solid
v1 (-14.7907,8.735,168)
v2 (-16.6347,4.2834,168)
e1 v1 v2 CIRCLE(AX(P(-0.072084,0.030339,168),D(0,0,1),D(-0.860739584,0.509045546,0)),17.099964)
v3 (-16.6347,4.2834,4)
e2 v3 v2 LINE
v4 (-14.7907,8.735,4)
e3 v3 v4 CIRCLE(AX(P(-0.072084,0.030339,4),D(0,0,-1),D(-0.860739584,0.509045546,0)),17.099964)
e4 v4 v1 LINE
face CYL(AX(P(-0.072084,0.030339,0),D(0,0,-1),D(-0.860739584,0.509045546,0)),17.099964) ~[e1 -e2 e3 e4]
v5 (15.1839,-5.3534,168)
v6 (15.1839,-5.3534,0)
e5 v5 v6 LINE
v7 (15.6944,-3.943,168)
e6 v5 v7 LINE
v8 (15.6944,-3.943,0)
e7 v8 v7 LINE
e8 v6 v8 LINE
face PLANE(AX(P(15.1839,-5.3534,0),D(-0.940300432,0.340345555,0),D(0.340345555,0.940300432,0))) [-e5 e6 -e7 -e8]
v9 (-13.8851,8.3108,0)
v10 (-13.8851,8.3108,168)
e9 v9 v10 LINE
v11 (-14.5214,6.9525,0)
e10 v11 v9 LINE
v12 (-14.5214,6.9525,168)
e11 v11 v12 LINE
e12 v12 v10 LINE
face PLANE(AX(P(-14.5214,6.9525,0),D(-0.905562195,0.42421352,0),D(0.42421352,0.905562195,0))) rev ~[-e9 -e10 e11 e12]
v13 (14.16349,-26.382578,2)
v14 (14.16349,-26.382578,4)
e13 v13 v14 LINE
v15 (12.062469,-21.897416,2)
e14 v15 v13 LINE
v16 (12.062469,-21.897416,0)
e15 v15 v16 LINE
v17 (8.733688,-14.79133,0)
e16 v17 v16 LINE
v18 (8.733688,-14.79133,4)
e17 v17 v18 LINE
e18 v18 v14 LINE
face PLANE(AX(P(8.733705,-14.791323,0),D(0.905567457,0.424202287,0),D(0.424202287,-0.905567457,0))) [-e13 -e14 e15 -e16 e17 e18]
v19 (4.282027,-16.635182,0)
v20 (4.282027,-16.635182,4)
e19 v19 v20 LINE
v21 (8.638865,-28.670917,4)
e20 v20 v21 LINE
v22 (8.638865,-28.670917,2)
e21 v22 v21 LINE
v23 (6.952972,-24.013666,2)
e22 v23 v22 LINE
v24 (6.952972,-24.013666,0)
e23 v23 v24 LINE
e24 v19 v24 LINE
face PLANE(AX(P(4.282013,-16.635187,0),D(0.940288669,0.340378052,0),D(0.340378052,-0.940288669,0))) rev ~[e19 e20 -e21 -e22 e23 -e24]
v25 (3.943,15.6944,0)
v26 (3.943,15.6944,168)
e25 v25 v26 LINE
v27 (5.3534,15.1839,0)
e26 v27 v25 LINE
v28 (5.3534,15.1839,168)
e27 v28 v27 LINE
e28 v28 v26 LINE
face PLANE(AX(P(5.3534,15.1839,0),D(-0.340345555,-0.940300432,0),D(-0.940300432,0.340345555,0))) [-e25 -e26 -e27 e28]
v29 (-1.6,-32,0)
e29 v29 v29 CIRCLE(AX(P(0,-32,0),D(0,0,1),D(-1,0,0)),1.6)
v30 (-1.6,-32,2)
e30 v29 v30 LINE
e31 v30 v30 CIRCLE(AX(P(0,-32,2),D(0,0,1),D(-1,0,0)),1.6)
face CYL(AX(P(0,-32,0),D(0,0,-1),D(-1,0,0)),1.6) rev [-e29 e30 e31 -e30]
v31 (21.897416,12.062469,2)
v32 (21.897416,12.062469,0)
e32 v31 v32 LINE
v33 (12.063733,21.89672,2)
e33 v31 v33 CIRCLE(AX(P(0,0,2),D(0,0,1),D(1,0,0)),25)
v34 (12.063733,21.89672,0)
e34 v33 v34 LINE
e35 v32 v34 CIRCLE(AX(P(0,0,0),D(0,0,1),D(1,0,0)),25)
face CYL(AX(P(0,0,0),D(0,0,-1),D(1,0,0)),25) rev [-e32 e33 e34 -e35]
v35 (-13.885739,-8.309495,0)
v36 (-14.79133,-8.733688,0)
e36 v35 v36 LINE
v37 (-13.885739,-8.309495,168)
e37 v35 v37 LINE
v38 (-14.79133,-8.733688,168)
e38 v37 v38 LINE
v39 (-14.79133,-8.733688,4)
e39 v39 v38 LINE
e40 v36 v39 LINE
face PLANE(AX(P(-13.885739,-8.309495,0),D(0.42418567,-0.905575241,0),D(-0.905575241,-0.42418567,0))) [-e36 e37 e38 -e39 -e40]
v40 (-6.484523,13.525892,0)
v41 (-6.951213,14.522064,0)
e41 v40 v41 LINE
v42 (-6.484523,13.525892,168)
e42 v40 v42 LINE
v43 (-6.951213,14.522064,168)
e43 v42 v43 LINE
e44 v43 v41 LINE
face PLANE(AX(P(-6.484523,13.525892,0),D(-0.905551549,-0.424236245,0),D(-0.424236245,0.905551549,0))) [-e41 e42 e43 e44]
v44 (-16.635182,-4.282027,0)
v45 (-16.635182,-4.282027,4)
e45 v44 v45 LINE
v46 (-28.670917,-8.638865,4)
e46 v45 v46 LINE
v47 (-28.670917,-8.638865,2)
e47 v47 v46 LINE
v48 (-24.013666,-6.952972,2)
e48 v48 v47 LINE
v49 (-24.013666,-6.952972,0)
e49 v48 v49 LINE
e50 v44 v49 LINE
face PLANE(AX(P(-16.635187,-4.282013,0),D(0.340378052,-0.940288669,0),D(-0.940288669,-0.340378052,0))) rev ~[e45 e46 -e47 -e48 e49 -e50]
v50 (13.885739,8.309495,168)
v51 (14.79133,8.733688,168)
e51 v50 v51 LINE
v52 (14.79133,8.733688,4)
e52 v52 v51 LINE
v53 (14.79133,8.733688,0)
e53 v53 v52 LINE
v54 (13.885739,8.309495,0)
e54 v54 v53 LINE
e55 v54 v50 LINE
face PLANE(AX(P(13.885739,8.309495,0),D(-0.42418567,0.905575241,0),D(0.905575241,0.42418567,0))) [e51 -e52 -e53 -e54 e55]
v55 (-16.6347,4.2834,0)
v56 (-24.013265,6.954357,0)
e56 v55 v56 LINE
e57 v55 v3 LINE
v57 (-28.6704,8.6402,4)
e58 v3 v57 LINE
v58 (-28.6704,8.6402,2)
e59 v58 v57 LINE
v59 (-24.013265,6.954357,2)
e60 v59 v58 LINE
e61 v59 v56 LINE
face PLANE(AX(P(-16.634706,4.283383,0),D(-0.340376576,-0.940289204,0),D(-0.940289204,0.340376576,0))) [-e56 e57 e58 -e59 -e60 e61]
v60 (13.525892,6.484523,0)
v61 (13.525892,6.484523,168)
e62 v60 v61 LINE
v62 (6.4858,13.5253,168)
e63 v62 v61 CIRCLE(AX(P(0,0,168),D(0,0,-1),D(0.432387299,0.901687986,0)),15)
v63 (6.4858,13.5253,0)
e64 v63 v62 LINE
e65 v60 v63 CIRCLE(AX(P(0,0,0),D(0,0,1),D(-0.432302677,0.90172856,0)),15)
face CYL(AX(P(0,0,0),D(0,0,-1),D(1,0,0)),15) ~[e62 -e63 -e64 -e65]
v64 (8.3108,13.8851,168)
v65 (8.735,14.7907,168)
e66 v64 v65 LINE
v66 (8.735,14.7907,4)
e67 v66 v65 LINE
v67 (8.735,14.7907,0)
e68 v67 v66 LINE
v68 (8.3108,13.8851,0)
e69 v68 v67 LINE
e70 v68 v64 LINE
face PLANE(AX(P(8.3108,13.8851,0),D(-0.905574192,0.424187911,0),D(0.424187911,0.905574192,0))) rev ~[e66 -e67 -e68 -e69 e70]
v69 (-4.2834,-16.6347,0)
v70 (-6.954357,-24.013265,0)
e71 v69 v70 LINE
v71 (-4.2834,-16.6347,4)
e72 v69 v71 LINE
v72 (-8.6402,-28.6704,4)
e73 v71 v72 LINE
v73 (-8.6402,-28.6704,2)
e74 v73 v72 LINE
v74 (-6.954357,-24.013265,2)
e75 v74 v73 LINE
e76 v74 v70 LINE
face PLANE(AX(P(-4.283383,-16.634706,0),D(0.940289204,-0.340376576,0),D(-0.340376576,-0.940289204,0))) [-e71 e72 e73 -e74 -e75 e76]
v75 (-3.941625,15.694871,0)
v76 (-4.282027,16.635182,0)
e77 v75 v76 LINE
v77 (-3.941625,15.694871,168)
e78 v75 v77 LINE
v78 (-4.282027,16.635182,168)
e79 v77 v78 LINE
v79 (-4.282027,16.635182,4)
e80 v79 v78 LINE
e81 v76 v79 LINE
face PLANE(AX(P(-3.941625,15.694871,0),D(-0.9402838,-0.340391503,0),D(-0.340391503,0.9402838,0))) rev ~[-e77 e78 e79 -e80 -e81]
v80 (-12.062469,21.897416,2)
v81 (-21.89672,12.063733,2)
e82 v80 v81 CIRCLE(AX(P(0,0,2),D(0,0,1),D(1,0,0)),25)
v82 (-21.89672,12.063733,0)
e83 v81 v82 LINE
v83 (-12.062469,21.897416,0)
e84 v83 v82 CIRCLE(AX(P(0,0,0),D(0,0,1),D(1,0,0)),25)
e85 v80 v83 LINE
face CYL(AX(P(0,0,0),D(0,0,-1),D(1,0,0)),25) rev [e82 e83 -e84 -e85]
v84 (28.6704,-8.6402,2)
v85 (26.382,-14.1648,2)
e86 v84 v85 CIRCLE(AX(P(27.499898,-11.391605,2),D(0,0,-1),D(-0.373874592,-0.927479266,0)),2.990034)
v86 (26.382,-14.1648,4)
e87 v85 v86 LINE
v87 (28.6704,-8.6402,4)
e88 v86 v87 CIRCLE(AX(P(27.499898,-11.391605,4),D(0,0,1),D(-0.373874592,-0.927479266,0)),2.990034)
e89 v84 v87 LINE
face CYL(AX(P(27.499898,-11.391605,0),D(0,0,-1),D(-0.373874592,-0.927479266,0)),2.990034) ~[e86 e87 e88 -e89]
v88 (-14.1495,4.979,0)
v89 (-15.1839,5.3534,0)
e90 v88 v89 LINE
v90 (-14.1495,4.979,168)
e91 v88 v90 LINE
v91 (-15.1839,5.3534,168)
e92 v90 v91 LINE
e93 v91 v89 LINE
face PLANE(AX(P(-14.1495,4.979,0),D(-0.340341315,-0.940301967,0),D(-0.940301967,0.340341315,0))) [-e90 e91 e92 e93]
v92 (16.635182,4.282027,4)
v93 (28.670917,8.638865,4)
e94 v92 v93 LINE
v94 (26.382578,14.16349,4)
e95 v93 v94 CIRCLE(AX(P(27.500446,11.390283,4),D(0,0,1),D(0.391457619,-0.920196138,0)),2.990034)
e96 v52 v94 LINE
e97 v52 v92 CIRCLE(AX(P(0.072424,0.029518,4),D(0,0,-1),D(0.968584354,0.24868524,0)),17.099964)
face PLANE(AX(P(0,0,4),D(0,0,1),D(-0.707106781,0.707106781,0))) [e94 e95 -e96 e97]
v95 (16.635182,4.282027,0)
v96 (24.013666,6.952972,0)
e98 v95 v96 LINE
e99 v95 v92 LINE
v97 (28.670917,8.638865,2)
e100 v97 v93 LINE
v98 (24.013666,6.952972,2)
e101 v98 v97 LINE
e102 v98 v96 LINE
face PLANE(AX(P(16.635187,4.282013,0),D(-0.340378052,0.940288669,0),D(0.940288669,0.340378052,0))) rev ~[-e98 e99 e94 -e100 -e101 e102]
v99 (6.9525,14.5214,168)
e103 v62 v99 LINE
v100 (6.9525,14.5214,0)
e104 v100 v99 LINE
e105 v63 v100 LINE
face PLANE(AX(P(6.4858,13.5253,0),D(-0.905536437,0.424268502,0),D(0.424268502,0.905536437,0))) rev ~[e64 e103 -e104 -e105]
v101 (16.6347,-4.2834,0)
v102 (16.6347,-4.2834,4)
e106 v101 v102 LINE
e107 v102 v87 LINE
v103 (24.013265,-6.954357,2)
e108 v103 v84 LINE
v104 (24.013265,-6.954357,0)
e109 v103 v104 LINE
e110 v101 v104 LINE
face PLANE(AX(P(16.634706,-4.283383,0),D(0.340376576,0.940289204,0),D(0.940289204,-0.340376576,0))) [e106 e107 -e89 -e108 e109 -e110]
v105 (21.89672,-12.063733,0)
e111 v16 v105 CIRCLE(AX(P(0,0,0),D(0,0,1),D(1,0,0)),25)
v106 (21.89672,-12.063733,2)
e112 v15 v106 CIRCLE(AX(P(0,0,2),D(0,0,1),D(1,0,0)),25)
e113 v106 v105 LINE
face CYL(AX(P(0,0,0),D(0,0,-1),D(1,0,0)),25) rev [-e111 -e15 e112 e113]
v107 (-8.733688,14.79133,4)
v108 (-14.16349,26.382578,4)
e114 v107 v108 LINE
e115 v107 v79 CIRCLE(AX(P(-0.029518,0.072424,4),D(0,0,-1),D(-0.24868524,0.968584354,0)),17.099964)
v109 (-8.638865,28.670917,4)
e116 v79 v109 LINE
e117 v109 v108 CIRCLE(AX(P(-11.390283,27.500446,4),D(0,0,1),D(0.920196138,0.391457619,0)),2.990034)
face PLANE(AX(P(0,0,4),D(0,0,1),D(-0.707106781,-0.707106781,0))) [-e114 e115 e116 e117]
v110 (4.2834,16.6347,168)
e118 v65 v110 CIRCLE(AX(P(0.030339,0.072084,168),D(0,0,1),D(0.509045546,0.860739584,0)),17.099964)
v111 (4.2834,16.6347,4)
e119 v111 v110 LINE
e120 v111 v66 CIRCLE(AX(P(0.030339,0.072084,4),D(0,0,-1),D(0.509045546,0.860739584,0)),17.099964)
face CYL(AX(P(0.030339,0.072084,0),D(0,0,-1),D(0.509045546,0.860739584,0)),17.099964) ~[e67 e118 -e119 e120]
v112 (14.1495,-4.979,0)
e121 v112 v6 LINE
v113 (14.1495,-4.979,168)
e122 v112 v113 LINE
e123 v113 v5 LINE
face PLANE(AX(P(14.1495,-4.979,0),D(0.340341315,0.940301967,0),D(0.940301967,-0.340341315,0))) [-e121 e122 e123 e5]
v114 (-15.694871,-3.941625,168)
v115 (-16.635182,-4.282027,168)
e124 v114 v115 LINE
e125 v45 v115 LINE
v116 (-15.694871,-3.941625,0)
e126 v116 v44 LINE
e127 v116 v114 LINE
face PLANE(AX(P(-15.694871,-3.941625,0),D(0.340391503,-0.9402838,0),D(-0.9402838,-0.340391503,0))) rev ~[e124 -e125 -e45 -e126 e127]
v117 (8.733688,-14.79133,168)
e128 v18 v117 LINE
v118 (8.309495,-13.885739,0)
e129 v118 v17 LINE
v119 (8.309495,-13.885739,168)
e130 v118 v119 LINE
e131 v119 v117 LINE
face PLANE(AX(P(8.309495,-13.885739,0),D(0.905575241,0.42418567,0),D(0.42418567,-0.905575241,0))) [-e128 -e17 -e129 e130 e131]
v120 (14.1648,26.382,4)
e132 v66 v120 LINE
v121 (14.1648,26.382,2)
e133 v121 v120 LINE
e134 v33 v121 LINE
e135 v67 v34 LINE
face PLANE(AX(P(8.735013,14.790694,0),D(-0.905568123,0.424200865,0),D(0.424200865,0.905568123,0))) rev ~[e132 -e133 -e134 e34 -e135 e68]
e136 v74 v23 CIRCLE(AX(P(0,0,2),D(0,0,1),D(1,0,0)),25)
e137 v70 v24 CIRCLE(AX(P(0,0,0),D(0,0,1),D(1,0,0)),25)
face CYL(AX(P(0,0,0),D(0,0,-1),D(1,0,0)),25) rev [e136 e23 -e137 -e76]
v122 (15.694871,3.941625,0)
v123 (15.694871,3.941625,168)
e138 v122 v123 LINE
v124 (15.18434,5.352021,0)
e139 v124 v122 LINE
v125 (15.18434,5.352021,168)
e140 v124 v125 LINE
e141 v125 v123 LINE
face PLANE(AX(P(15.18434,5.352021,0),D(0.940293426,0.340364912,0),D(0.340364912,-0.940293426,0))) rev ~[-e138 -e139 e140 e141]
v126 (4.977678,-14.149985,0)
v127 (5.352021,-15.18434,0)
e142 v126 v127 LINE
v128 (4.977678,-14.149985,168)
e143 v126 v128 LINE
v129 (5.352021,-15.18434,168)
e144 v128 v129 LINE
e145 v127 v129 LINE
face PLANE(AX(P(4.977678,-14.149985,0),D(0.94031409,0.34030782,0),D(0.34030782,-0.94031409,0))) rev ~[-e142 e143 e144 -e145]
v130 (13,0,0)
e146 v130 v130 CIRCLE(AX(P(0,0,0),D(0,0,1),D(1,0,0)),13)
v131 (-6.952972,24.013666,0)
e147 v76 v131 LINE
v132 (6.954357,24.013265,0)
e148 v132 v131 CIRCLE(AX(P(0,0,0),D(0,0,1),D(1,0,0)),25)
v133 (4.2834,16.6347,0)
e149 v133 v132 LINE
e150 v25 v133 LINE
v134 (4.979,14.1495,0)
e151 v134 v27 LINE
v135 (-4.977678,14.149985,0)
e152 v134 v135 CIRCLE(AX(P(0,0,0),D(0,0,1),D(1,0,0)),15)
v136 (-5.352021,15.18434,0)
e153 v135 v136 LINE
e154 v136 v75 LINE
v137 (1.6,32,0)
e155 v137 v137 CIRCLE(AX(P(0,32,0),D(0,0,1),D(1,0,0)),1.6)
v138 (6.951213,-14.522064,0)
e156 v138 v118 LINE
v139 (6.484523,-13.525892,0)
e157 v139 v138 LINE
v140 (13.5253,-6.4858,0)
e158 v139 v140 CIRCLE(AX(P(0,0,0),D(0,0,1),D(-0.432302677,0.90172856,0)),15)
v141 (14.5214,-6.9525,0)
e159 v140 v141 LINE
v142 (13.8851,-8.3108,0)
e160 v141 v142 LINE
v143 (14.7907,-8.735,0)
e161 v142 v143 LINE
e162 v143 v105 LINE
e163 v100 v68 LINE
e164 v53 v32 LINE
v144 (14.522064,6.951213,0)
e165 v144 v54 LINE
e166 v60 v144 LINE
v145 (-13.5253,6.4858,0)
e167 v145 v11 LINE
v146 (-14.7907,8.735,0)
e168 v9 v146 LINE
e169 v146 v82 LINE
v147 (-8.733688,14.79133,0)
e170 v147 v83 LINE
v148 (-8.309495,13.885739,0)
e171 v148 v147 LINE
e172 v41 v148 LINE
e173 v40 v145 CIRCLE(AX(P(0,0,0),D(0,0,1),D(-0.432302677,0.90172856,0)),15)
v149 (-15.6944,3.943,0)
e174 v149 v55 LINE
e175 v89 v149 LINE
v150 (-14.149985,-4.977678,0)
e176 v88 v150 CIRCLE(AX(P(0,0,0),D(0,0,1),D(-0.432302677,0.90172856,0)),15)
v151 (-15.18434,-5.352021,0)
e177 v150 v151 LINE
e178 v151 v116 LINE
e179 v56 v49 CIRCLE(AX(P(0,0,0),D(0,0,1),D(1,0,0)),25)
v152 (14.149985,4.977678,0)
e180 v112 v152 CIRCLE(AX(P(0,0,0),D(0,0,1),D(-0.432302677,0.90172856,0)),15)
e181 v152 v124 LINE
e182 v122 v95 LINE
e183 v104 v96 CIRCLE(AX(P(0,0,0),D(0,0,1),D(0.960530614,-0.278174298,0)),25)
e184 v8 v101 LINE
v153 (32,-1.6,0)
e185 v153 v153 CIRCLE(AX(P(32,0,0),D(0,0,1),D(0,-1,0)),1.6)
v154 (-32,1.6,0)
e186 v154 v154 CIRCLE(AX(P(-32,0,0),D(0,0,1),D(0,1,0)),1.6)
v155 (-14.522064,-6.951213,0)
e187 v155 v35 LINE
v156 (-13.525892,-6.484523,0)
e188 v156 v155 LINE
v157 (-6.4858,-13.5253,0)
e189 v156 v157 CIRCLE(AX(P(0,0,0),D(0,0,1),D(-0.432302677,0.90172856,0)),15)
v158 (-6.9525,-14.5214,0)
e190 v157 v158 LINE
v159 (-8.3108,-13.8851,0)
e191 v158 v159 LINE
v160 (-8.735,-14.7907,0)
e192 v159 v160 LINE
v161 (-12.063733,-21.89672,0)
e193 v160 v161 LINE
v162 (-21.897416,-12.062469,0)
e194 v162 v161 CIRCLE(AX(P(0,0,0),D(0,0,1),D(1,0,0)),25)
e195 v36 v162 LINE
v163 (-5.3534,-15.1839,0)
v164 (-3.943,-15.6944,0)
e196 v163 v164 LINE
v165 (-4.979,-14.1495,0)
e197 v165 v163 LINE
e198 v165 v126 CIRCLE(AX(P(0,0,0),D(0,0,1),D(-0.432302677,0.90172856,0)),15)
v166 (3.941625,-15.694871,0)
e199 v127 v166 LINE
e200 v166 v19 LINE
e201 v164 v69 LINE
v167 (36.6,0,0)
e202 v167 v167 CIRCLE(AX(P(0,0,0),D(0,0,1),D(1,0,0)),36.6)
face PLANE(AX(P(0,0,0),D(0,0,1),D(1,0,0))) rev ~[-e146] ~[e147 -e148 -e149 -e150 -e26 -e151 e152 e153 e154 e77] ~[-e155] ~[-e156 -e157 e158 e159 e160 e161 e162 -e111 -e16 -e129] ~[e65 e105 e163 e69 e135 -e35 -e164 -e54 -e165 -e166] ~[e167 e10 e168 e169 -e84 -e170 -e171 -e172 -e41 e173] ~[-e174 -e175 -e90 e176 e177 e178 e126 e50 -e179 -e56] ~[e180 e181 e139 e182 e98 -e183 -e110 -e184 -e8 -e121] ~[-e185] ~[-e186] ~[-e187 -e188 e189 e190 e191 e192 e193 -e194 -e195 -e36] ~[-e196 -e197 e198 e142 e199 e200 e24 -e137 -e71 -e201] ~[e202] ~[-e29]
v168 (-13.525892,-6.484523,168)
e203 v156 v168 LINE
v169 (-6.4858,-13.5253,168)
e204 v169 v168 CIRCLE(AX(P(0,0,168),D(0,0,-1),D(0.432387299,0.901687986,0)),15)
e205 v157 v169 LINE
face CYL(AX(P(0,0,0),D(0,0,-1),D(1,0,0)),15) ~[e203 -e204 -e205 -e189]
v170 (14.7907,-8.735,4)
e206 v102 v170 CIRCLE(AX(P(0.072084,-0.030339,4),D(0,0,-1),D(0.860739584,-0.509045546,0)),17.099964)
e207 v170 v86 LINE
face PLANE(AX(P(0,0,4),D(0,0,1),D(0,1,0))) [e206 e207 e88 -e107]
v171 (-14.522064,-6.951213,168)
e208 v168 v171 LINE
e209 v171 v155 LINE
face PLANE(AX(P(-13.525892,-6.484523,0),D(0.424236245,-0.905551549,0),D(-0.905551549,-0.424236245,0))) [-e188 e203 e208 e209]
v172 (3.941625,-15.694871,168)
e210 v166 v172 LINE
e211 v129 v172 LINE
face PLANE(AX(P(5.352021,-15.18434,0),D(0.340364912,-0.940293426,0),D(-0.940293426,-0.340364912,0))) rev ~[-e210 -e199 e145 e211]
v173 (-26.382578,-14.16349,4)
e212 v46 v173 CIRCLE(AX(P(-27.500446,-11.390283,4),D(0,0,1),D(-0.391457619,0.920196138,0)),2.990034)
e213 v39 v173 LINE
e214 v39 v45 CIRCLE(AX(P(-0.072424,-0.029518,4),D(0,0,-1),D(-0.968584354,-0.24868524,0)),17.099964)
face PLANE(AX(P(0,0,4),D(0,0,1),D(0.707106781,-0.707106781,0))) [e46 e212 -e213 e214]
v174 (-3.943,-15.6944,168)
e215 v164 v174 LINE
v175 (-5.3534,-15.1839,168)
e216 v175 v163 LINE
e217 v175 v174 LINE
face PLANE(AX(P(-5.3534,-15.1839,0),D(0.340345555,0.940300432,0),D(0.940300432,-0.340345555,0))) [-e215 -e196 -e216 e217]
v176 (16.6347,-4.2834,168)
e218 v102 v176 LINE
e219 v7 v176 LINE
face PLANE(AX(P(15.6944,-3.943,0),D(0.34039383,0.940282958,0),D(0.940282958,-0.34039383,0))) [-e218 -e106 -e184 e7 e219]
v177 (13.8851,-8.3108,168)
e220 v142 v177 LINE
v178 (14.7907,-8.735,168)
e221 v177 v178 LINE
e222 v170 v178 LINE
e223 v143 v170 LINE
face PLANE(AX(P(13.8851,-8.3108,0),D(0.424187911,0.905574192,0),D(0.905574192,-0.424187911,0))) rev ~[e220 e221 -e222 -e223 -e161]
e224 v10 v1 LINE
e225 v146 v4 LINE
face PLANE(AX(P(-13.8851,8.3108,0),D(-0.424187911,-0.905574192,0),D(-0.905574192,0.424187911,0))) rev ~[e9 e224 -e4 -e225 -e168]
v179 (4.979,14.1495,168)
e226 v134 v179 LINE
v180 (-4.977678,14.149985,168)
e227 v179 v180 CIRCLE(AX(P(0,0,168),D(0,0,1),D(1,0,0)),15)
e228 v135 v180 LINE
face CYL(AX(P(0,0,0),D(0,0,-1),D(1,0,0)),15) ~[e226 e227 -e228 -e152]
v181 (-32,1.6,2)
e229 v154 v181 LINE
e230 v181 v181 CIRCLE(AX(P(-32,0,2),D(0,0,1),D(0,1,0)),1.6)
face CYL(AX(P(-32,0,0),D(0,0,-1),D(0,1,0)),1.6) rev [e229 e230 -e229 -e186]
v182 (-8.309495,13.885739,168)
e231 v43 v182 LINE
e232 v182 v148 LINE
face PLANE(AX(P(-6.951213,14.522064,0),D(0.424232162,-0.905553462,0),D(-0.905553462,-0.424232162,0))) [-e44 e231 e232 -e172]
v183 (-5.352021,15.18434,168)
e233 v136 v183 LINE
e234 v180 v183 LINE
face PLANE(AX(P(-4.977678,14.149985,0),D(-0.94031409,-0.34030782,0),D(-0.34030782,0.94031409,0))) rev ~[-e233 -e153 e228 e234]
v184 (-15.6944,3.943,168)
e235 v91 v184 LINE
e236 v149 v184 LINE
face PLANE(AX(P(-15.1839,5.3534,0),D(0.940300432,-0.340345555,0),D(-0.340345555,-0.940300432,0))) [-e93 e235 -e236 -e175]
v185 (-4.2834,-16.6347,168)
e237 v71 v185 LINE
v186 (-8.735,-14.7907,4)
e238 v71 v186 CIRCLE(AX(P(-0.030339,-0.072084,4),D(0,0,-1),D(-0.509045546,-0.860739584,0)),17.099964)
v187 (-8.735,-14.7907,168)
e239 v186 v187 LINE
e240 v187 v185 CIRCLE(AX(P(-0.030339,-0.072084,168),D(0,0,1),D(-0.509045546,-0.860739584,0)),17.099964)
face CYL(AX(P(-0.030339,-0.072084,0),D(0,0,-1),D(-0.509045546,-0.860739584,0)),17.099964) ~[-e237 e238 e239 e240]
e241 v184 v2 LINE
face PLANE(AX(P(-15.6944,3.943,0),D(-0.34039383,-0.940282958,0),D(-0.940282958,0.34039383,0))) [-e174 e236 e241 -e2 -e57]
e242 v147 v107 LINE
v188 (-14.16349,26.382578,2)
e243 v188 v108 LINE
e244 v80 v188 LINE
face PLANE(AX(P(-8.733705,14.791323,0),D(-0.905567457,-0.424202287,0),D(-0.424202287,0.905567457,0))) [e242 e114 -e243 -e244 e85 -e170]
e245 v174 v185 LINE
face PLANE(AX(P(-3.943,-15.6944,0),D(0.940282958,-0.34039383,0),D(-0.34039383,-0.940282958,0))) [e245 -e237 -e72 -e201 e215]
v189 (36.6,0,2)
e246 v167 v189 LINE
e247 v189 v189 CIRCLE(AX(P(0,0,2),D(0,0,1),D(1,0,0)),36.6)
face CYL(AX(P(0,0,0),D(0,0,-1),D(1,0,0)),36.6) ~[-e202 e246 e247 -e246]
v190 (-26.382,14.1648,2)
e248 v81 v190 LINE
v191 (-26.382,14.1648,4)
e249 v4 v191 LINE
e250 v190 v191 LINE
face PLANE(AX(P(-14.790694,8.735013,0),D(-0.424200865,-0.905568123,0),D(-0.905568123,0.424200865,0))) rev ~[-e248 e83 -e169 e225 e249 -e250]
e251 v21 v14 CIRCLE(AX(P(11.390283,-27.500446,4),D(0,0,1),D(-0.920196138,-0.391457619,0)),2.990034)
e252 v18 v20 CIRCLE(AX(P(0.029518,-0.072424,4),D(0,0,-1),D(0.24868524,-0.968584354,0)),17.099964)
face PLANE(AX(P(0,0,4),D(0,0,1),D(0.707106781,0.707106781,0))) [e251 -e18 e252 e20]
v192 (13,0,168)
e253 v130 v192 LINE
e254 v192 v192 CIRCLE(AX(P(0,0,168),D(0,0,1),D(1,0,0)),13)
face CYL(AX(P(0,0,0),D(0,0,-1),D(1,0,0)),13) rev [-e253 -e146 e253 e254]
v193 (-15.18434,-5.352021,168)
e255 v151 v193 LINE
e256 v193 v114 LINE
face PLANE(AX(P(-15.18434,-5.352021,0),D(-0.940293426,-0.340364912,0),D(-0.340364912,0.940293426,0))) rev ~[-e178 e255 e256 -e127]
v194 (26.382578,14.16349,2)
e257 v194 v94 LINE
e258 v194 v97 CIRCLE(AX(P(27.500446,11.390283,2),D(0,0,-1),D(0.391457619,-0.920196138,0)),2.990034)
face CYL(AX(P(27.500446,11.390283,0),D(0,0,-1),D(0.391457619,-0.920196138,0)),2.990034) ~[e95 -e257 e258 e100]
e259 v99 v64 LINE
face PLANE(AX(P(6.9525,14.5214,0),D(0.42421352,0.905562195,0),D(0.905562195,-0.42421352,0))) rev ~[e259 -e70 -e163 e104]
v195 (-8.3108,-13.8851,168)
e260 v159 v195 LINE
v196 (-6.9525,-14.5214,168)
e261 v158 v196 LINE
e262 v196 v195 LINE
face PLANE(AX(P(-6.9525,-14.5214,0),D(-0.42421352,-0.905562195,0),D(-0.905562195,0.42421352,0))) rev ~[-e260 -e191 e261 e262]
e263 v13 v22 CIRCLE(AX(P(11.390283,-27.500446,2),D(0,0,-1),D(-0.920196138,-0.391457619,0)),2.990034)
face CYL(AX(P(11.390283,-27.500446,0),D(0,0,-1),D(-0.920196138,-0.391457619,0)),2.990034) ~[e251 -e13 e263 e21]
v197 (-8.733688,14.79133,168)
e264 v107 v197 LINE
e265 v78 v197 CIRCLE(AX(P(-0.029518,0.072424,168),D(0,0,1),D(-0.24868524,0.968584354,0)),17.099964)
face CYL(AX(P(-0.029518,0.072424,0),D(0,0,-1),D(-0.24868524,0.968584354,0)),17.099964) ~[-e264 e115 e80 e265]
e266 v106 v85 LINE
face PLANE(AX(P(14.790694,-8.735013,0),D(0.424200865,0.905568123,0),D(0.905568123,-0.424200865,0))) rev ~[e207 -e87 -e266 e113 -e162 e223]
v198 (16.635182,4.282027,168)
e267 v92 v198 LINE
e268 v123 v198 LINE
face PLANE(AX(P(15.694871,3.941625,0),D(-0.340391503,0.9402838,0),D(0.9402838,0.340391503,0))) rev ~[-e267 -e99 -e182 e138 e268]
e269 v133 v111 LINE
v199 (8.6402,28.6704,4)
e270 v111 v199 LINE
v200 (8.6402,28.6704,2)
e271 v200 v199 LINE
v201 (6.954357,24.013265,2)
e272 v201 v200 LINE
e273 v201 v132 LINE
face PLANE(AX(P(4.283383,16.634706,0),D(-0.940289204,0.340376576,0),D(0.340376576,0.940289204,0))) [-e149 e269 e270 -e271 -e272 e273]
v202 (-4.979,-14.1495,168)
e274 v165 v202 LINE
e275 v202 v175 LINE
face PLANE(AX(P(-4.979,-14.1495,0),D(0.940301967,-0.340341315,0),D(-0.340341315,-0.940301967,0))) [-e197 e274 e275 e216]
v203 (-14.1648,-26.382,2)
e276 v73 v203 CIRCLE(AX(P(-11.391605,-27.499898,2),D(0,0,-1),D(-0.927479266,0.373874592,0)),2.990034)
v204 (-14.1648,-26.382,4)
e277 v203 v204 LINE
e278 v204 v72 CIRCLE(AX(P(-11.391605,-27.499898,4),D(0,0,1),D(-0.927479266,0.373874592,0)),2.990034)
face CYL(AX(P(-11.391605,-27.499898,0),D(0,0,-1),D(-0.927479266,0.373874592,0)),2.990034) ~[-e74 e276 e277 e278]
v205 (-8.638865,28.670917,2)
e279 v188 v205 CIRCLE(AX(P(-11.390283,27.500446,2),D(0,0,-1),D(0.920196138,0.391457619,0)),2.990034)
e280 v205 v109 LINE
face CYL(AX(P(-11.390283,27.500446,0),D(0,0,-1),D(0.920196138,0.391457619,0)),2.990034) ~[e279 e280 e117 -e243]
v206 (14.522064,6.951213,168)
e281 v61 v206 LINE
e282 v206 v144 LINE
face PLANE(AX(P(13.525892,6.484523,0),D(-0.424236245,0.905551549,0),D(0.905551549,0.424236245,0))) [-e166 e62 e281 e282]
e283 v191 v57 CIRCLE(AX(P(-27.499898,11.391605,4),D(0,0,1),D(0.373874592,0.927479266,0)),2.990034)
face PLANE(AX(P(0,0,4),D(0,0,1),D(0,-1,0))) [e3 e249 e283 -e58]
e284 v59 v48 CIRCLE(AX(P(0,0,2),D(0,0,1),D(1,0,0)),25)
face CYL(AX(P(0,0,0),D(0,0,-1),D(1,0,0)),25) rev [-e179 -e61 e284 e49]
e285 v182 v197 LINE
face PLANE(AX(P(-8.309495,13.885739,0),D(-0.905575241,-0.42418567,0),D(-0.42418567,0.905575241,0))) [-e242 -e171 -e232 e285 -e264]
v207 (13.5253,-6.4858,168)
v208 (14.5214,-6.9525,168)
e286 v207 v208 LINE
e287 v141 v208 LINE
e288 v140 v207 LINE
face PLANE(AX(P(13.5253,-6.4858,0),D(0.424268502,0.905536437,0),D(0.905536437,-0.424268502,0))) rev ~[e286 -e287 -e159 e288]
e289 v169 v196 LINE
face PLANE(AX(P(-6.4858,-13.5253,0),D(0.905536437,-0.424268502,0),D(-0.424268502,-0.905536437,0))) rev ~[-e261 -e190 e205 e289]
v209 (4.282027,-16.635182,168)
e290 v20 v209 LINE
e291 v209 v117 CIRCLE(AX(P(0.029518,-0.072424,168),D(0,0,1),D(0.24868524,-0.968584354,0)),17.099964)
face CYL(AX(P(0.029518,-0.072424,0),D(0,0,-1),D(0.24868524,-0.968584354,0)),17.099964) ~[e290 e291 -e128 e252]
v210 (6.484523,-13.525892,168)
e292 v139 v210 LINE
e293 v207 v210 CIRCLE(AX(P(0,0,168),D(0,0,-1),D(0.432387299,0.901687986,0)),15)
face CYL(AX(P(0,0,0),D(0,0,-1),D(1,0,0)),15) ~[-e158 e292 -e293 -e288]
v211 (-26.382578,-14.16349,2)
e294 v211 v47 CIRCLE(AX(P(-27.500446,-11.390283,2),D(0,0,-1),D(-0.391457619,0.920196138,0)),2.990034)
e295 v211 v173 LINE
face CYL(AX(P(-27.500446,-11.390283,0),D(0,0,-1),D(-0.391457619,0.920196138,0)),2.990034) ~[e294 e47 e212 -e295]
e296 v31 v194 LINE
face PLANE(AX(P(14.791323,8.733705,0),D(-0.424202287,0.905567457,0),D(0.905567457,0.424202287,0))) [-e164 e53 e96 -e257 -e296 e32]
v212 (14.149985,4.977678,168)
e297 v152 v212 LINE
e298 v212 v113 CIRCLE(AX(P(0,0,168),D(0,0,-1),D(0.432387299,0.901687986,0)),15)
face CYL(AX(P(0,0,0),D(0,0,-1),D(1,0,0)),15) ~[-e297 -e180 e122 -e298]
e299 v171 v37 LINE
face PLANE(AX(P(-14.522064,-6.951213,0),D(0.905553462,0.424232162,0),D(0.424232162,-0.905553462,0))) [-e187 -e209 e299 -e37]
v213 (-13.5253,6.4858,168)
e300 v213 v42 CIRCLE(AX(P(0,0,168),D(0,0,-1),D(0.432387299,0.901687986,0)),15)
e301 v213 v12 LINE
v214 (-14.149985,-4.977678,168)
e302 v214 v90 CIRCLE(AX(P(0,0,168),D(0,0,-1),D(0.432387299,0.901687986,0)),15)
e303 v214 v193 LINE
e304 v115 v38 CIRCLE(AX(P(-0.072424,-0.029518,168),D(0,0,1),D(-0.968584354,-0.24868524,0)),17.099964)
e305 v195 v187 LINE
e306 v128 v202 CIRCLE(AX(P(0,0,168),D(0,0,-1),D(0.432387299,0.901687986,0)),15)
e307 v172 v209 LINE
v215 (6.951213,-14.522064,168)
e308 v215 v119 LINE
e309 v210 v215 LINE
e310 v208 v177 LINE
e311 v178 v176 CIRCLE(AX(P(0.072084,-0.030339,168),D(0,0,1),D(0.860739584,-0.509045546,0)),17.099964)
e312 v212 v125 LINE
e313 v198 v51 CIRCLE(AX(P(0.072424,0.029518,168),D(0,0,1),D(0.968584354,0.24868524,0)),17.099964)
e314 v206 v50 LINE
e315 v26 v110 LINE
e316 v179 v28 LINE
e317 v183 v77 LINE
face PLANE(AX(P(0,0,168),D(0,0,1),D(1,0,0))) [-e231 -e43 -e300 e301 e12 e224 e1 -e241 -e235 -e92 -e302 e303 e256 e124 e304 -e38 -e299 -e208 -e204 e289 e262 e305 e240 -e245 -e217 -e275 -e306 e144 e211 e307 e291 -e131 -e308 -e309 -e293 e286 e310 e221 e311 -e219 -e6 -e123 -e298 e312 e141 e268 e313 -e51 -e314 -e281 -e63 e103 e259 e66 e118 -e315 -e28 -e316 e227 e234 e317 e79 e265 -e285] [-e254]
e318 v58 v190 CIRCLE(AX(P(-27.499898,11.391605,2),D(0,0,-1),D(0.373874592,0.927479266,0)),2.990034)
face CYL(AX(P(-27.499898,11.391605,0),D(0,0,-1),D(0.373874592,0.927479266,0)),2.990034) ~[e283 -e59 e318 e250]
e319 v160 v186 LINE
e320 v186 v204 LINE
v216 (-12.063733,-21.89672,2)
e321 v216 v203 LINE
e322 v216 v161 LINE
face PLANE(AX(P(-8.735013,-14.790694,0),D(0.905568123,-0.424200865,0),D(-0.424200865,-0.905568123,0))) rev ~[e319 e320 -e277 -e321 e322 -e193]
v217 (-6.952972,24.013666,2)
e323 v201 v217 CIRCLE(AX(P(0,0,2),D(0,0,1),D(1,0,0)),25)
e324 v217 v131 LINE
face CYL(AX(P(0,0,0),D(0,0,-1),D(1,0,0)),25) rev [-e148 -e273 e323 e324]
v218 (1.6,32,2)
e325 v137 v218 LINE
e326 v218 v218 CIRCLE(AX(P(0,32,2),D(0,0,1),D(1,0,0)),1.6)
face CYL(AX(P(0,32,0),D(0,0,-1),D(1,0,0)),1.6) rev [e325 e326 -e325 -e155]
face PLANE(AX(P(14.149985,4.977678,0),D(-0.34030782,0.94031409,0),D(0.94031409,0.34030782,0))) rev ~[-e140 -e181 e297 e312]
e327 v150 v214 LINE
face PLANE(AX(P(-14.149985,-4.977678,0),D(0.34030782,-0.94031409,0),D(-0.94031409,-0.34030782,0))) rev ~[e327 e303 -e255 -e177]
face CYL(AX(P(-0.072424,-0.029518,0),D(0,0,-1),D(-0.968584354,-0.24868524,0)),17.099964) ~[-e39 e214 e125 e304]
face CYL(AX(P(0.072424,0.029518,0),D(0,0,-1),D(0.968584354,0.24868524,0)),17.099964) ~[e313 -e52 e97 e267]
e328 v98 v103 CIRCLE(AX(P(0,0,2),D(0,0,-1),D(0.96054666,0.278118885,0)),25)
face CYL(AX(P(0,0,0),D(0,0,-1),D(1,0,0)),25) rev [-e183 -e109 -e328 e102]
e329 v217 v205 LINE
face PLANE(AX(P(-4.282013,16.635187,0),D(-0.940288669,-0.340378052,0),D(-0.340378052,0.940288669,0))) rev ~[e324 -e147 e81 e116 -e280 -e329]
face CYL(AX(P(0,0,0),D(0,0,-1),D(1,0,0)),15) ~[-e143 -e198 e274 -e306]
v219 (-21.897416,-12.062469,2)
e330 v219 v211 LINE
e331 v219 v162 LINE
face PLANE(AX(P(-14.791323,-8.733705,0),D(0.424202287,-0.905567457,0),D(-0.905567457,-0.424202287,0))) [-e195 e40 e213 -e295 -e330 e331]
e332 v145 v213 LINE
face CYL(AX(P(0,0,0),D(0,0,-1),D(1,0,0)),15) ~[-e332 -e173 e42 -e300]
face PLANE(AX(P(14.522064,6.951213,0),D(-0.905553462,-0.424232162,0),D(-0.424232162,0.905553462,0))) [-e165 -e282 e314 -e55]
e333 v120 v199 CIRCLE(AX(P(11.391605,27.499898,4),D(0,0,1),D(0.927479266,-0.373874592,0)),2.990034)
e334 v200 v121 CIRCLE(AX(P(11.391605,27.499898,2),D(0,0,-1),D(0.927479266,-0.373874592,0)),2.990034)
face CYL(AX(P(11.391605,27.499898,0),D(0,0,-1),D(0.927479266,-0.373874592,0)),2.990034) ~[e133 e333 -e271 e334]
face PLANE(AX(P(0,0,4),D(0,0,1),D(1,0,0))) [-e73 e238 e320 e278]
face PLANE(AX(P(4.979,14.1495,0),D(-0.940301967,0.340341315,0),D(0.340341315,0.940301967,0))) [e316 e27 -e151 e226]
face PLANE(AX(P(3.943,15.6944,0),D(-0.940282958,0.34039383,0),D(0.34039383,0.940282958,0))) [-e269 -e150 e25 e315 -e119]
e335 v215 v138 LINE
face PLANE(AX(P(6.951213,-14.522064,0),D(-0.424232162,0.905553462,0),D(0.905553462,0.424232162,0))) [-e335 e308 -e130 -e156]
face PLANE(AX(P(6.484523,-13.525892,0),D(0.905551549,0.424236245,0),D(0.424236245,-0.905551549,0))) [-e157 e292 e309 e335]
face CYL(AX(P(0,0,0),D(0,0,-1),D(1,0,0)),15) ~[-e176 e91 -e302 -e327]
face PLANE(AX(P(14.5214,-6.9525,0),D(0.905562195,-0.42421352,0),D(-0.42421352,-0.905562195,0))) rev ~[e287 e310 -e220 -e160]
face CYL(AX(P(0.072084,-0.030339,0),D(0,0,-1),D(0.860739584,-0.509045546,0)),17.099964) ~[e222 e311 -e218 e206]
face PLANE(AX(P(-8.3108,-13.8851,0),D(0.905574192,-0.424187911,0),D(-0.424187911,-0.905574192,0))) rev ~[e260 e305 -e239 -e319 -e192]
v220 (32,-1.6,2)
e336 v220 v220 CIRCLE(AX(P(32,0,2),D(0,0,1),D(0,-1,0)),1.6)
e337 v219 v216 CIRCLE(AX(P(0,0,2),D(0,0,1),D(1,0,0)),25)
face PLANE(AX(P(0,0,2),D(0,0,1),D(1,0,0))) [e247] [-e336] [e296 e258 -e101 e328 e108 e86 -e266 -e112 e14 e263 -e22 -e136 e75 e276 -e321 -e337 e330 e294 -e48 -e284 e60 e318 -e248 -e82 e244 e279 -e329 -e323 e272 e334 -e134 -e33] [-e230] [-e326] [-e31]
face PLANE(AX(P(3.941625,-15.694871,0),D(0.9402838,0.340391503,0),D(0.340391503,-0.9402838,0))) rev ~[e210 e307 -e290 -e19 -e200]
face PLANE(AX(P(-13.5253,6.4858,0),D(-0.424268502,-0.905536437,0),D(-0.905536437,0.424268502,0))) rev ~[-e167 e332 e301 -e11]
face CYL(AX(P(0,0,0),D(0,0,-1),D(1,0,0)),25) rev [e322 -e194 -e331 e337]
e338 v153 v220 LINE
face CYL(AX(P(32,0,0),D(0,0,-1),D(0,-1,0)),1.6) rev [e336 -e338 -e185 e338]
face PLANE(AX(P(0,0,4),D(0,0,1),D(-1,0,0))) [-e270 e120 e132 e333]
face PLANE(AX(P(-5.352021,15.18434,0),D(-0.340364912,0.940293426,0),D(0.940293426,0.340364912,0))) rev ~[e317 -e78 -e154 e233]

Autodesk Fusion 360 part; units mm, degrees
sketch "Sketch1" plane through (0, 0, 0) normal (0, 0, 1) x (1, 0, 0)
  circle A0 centre (0, 0) radius 15
  circle A1 centre (0, 0) radius 13
  dimension "d1" = 30
  dimension "d2" = 26
extrude "Extrude1" add sketch "Sketch1" along normal blind 168
sketch "Sketch2" plane through (0, 0, 168) normal (0, 0, 1) x (-1, 0, 0)
  circle A0 centre (0, 0) radius 13
  circle A1 centre (0, 0) radius 15
  circle A2 centre (0, 0) radius 15
  line L0 (0, 0) -> (0, -29.5553) construction
  line L1 (-4.979, -14.1495) -> (-5.3534, -15.1839)
  line L2 (-6.4858, -13.5253) -> (-6.9525, -14.5214)
  line L3 (-6.9525, -14.5214) -> (-8.3108, -13.8851)
  line L4 (-5.3534, -15.1839) -> (-3.943, -15.6944)
  line L5 (-8.3108, -13.8851) -> (-8.735, -14.7907)
  line L6 (-3.943, -15.6944) -> (-4.2834, -16.6347)
  arc A3 (-8.735, -14.7907) -> (-4.2834, -16.6347) centre (-0.0303, -0.0721) ccw
  line L7 (-6.4858, -13.5253) -> (-4.979, -14.1495)
  line L8 (-5.7324, -13.8374) -> (-8.1748, -19.7332)
  dimension "d5" = 19.9
  dimension "d6" = 25.1
  dimension "d7" = 1.1
  dimension "d8" = 1.1
  dimension "d9" = 1.5
  dimension "d10" = 1.5
  dimension "d11" = 1
  dimension "d12" = 1
  dimension "d16" = 1.631
  dimension "d17" = 3.943
  dimension "d18" = 25.1
  dimension "d19" = 17.1
extrude "Extrude2" add sketch "Sketch2" along normal blind 168 from surface at -168 contours A1 A2 L2 L3 L5 A3 L8 | A1 A2 L1 L4 L6 A3 L8
sketch "Sketch3" plane through (0, 0, 168) normal (0, 0, 1) x (-1, 0, 0)
  circle A0 centre (0, 0) radius 13
  arc A1 (-4.979, -14.1495) -> (-6.4858, -13.5253) centre (0, 0) ccw
  line L0 (-6.4858, -13.5253) -> (-6.9525, -14.5214)
  line L1 (-6.9525, -14.5214) -> (-8.3108, -13.8851)
  line L2 (-8.3108, -13.8851) -> (-8.735, -14.7907)
  arc A2 (-8.735, -14.7907) -> (-4.2834, -16.6347) centre (-0.0303, -0.0721) ccw
  line L3 (-4.2834, -16.6347) -> (-3.943, -15.6944)
  line L4 (-3.943, -15.6944) -> (-5.3534, -15.1839)
  line L5 (-5.3534, -15.1839) -> (-4.979, -14.1495)
  line L6 (-5.3534, -15.1839) -> (-3.943, -15.6944)
  line L7 (-3.943, -15.6944) -> (-8.6402, -28.6704)
  line L8 (-6.9525, -14.5214) -> (-8.3108, -13.8851)
  line L9 (-8.3108, -13.8851) -> (-14.1648, -26.382)
  arc A3 (-14.1648, -26.382) -> (-8.6402, -28.6704) centre (-11.3916, -27.4999) ccw
  line L10 (-5.3534, -15.1839) -> (-6.9525, -14.5214)
  dimension "d20" = 13.8
  dimension "d22" = 13.8
  dimension "d23" = 2.99
extrude "Extrude3" add sketch "Sketch3" along normal blind 4 from surface at -168 contours L1 L2 A2 L3 L4 L6 L7 L8 L9 L10 | A2 L7 L9 A3
pattern_circular "C-Pattern1" count 8 over 360 about axis through (0, 0, 1.75) along (0, 0, 1) of "Extrude2", "Extrude3"
sketch "Sketch4" plane through (0, 0, 0) normal (0, 0, 1) x (1, 0, 0)
  circle A0 centre (0, 0) radius 36.6
  circle A1 centre (0, 0) radius 25
  dimension "d29" = 50
  dimension "d30" = 73.2
extrude "Extrude4" add sketch "Sketch4" along normal blind 2
sketch "Sketch5" plane through (0, 0, 0) normal (0, 0, 1) x (1, 0, 0)
  circle A0 centre (0, 32) radius 1.6
  dimension "d33" = 3.2
  dimension "d34" = 32
extrude "Extrude5" cut sketch "Sketch5" along normal blind 2
pattern_circular "C-Pattern2" count 4 over 360 about axis through (0, 0, 1.75) along (0, 0, 1) of "Extrude5"
